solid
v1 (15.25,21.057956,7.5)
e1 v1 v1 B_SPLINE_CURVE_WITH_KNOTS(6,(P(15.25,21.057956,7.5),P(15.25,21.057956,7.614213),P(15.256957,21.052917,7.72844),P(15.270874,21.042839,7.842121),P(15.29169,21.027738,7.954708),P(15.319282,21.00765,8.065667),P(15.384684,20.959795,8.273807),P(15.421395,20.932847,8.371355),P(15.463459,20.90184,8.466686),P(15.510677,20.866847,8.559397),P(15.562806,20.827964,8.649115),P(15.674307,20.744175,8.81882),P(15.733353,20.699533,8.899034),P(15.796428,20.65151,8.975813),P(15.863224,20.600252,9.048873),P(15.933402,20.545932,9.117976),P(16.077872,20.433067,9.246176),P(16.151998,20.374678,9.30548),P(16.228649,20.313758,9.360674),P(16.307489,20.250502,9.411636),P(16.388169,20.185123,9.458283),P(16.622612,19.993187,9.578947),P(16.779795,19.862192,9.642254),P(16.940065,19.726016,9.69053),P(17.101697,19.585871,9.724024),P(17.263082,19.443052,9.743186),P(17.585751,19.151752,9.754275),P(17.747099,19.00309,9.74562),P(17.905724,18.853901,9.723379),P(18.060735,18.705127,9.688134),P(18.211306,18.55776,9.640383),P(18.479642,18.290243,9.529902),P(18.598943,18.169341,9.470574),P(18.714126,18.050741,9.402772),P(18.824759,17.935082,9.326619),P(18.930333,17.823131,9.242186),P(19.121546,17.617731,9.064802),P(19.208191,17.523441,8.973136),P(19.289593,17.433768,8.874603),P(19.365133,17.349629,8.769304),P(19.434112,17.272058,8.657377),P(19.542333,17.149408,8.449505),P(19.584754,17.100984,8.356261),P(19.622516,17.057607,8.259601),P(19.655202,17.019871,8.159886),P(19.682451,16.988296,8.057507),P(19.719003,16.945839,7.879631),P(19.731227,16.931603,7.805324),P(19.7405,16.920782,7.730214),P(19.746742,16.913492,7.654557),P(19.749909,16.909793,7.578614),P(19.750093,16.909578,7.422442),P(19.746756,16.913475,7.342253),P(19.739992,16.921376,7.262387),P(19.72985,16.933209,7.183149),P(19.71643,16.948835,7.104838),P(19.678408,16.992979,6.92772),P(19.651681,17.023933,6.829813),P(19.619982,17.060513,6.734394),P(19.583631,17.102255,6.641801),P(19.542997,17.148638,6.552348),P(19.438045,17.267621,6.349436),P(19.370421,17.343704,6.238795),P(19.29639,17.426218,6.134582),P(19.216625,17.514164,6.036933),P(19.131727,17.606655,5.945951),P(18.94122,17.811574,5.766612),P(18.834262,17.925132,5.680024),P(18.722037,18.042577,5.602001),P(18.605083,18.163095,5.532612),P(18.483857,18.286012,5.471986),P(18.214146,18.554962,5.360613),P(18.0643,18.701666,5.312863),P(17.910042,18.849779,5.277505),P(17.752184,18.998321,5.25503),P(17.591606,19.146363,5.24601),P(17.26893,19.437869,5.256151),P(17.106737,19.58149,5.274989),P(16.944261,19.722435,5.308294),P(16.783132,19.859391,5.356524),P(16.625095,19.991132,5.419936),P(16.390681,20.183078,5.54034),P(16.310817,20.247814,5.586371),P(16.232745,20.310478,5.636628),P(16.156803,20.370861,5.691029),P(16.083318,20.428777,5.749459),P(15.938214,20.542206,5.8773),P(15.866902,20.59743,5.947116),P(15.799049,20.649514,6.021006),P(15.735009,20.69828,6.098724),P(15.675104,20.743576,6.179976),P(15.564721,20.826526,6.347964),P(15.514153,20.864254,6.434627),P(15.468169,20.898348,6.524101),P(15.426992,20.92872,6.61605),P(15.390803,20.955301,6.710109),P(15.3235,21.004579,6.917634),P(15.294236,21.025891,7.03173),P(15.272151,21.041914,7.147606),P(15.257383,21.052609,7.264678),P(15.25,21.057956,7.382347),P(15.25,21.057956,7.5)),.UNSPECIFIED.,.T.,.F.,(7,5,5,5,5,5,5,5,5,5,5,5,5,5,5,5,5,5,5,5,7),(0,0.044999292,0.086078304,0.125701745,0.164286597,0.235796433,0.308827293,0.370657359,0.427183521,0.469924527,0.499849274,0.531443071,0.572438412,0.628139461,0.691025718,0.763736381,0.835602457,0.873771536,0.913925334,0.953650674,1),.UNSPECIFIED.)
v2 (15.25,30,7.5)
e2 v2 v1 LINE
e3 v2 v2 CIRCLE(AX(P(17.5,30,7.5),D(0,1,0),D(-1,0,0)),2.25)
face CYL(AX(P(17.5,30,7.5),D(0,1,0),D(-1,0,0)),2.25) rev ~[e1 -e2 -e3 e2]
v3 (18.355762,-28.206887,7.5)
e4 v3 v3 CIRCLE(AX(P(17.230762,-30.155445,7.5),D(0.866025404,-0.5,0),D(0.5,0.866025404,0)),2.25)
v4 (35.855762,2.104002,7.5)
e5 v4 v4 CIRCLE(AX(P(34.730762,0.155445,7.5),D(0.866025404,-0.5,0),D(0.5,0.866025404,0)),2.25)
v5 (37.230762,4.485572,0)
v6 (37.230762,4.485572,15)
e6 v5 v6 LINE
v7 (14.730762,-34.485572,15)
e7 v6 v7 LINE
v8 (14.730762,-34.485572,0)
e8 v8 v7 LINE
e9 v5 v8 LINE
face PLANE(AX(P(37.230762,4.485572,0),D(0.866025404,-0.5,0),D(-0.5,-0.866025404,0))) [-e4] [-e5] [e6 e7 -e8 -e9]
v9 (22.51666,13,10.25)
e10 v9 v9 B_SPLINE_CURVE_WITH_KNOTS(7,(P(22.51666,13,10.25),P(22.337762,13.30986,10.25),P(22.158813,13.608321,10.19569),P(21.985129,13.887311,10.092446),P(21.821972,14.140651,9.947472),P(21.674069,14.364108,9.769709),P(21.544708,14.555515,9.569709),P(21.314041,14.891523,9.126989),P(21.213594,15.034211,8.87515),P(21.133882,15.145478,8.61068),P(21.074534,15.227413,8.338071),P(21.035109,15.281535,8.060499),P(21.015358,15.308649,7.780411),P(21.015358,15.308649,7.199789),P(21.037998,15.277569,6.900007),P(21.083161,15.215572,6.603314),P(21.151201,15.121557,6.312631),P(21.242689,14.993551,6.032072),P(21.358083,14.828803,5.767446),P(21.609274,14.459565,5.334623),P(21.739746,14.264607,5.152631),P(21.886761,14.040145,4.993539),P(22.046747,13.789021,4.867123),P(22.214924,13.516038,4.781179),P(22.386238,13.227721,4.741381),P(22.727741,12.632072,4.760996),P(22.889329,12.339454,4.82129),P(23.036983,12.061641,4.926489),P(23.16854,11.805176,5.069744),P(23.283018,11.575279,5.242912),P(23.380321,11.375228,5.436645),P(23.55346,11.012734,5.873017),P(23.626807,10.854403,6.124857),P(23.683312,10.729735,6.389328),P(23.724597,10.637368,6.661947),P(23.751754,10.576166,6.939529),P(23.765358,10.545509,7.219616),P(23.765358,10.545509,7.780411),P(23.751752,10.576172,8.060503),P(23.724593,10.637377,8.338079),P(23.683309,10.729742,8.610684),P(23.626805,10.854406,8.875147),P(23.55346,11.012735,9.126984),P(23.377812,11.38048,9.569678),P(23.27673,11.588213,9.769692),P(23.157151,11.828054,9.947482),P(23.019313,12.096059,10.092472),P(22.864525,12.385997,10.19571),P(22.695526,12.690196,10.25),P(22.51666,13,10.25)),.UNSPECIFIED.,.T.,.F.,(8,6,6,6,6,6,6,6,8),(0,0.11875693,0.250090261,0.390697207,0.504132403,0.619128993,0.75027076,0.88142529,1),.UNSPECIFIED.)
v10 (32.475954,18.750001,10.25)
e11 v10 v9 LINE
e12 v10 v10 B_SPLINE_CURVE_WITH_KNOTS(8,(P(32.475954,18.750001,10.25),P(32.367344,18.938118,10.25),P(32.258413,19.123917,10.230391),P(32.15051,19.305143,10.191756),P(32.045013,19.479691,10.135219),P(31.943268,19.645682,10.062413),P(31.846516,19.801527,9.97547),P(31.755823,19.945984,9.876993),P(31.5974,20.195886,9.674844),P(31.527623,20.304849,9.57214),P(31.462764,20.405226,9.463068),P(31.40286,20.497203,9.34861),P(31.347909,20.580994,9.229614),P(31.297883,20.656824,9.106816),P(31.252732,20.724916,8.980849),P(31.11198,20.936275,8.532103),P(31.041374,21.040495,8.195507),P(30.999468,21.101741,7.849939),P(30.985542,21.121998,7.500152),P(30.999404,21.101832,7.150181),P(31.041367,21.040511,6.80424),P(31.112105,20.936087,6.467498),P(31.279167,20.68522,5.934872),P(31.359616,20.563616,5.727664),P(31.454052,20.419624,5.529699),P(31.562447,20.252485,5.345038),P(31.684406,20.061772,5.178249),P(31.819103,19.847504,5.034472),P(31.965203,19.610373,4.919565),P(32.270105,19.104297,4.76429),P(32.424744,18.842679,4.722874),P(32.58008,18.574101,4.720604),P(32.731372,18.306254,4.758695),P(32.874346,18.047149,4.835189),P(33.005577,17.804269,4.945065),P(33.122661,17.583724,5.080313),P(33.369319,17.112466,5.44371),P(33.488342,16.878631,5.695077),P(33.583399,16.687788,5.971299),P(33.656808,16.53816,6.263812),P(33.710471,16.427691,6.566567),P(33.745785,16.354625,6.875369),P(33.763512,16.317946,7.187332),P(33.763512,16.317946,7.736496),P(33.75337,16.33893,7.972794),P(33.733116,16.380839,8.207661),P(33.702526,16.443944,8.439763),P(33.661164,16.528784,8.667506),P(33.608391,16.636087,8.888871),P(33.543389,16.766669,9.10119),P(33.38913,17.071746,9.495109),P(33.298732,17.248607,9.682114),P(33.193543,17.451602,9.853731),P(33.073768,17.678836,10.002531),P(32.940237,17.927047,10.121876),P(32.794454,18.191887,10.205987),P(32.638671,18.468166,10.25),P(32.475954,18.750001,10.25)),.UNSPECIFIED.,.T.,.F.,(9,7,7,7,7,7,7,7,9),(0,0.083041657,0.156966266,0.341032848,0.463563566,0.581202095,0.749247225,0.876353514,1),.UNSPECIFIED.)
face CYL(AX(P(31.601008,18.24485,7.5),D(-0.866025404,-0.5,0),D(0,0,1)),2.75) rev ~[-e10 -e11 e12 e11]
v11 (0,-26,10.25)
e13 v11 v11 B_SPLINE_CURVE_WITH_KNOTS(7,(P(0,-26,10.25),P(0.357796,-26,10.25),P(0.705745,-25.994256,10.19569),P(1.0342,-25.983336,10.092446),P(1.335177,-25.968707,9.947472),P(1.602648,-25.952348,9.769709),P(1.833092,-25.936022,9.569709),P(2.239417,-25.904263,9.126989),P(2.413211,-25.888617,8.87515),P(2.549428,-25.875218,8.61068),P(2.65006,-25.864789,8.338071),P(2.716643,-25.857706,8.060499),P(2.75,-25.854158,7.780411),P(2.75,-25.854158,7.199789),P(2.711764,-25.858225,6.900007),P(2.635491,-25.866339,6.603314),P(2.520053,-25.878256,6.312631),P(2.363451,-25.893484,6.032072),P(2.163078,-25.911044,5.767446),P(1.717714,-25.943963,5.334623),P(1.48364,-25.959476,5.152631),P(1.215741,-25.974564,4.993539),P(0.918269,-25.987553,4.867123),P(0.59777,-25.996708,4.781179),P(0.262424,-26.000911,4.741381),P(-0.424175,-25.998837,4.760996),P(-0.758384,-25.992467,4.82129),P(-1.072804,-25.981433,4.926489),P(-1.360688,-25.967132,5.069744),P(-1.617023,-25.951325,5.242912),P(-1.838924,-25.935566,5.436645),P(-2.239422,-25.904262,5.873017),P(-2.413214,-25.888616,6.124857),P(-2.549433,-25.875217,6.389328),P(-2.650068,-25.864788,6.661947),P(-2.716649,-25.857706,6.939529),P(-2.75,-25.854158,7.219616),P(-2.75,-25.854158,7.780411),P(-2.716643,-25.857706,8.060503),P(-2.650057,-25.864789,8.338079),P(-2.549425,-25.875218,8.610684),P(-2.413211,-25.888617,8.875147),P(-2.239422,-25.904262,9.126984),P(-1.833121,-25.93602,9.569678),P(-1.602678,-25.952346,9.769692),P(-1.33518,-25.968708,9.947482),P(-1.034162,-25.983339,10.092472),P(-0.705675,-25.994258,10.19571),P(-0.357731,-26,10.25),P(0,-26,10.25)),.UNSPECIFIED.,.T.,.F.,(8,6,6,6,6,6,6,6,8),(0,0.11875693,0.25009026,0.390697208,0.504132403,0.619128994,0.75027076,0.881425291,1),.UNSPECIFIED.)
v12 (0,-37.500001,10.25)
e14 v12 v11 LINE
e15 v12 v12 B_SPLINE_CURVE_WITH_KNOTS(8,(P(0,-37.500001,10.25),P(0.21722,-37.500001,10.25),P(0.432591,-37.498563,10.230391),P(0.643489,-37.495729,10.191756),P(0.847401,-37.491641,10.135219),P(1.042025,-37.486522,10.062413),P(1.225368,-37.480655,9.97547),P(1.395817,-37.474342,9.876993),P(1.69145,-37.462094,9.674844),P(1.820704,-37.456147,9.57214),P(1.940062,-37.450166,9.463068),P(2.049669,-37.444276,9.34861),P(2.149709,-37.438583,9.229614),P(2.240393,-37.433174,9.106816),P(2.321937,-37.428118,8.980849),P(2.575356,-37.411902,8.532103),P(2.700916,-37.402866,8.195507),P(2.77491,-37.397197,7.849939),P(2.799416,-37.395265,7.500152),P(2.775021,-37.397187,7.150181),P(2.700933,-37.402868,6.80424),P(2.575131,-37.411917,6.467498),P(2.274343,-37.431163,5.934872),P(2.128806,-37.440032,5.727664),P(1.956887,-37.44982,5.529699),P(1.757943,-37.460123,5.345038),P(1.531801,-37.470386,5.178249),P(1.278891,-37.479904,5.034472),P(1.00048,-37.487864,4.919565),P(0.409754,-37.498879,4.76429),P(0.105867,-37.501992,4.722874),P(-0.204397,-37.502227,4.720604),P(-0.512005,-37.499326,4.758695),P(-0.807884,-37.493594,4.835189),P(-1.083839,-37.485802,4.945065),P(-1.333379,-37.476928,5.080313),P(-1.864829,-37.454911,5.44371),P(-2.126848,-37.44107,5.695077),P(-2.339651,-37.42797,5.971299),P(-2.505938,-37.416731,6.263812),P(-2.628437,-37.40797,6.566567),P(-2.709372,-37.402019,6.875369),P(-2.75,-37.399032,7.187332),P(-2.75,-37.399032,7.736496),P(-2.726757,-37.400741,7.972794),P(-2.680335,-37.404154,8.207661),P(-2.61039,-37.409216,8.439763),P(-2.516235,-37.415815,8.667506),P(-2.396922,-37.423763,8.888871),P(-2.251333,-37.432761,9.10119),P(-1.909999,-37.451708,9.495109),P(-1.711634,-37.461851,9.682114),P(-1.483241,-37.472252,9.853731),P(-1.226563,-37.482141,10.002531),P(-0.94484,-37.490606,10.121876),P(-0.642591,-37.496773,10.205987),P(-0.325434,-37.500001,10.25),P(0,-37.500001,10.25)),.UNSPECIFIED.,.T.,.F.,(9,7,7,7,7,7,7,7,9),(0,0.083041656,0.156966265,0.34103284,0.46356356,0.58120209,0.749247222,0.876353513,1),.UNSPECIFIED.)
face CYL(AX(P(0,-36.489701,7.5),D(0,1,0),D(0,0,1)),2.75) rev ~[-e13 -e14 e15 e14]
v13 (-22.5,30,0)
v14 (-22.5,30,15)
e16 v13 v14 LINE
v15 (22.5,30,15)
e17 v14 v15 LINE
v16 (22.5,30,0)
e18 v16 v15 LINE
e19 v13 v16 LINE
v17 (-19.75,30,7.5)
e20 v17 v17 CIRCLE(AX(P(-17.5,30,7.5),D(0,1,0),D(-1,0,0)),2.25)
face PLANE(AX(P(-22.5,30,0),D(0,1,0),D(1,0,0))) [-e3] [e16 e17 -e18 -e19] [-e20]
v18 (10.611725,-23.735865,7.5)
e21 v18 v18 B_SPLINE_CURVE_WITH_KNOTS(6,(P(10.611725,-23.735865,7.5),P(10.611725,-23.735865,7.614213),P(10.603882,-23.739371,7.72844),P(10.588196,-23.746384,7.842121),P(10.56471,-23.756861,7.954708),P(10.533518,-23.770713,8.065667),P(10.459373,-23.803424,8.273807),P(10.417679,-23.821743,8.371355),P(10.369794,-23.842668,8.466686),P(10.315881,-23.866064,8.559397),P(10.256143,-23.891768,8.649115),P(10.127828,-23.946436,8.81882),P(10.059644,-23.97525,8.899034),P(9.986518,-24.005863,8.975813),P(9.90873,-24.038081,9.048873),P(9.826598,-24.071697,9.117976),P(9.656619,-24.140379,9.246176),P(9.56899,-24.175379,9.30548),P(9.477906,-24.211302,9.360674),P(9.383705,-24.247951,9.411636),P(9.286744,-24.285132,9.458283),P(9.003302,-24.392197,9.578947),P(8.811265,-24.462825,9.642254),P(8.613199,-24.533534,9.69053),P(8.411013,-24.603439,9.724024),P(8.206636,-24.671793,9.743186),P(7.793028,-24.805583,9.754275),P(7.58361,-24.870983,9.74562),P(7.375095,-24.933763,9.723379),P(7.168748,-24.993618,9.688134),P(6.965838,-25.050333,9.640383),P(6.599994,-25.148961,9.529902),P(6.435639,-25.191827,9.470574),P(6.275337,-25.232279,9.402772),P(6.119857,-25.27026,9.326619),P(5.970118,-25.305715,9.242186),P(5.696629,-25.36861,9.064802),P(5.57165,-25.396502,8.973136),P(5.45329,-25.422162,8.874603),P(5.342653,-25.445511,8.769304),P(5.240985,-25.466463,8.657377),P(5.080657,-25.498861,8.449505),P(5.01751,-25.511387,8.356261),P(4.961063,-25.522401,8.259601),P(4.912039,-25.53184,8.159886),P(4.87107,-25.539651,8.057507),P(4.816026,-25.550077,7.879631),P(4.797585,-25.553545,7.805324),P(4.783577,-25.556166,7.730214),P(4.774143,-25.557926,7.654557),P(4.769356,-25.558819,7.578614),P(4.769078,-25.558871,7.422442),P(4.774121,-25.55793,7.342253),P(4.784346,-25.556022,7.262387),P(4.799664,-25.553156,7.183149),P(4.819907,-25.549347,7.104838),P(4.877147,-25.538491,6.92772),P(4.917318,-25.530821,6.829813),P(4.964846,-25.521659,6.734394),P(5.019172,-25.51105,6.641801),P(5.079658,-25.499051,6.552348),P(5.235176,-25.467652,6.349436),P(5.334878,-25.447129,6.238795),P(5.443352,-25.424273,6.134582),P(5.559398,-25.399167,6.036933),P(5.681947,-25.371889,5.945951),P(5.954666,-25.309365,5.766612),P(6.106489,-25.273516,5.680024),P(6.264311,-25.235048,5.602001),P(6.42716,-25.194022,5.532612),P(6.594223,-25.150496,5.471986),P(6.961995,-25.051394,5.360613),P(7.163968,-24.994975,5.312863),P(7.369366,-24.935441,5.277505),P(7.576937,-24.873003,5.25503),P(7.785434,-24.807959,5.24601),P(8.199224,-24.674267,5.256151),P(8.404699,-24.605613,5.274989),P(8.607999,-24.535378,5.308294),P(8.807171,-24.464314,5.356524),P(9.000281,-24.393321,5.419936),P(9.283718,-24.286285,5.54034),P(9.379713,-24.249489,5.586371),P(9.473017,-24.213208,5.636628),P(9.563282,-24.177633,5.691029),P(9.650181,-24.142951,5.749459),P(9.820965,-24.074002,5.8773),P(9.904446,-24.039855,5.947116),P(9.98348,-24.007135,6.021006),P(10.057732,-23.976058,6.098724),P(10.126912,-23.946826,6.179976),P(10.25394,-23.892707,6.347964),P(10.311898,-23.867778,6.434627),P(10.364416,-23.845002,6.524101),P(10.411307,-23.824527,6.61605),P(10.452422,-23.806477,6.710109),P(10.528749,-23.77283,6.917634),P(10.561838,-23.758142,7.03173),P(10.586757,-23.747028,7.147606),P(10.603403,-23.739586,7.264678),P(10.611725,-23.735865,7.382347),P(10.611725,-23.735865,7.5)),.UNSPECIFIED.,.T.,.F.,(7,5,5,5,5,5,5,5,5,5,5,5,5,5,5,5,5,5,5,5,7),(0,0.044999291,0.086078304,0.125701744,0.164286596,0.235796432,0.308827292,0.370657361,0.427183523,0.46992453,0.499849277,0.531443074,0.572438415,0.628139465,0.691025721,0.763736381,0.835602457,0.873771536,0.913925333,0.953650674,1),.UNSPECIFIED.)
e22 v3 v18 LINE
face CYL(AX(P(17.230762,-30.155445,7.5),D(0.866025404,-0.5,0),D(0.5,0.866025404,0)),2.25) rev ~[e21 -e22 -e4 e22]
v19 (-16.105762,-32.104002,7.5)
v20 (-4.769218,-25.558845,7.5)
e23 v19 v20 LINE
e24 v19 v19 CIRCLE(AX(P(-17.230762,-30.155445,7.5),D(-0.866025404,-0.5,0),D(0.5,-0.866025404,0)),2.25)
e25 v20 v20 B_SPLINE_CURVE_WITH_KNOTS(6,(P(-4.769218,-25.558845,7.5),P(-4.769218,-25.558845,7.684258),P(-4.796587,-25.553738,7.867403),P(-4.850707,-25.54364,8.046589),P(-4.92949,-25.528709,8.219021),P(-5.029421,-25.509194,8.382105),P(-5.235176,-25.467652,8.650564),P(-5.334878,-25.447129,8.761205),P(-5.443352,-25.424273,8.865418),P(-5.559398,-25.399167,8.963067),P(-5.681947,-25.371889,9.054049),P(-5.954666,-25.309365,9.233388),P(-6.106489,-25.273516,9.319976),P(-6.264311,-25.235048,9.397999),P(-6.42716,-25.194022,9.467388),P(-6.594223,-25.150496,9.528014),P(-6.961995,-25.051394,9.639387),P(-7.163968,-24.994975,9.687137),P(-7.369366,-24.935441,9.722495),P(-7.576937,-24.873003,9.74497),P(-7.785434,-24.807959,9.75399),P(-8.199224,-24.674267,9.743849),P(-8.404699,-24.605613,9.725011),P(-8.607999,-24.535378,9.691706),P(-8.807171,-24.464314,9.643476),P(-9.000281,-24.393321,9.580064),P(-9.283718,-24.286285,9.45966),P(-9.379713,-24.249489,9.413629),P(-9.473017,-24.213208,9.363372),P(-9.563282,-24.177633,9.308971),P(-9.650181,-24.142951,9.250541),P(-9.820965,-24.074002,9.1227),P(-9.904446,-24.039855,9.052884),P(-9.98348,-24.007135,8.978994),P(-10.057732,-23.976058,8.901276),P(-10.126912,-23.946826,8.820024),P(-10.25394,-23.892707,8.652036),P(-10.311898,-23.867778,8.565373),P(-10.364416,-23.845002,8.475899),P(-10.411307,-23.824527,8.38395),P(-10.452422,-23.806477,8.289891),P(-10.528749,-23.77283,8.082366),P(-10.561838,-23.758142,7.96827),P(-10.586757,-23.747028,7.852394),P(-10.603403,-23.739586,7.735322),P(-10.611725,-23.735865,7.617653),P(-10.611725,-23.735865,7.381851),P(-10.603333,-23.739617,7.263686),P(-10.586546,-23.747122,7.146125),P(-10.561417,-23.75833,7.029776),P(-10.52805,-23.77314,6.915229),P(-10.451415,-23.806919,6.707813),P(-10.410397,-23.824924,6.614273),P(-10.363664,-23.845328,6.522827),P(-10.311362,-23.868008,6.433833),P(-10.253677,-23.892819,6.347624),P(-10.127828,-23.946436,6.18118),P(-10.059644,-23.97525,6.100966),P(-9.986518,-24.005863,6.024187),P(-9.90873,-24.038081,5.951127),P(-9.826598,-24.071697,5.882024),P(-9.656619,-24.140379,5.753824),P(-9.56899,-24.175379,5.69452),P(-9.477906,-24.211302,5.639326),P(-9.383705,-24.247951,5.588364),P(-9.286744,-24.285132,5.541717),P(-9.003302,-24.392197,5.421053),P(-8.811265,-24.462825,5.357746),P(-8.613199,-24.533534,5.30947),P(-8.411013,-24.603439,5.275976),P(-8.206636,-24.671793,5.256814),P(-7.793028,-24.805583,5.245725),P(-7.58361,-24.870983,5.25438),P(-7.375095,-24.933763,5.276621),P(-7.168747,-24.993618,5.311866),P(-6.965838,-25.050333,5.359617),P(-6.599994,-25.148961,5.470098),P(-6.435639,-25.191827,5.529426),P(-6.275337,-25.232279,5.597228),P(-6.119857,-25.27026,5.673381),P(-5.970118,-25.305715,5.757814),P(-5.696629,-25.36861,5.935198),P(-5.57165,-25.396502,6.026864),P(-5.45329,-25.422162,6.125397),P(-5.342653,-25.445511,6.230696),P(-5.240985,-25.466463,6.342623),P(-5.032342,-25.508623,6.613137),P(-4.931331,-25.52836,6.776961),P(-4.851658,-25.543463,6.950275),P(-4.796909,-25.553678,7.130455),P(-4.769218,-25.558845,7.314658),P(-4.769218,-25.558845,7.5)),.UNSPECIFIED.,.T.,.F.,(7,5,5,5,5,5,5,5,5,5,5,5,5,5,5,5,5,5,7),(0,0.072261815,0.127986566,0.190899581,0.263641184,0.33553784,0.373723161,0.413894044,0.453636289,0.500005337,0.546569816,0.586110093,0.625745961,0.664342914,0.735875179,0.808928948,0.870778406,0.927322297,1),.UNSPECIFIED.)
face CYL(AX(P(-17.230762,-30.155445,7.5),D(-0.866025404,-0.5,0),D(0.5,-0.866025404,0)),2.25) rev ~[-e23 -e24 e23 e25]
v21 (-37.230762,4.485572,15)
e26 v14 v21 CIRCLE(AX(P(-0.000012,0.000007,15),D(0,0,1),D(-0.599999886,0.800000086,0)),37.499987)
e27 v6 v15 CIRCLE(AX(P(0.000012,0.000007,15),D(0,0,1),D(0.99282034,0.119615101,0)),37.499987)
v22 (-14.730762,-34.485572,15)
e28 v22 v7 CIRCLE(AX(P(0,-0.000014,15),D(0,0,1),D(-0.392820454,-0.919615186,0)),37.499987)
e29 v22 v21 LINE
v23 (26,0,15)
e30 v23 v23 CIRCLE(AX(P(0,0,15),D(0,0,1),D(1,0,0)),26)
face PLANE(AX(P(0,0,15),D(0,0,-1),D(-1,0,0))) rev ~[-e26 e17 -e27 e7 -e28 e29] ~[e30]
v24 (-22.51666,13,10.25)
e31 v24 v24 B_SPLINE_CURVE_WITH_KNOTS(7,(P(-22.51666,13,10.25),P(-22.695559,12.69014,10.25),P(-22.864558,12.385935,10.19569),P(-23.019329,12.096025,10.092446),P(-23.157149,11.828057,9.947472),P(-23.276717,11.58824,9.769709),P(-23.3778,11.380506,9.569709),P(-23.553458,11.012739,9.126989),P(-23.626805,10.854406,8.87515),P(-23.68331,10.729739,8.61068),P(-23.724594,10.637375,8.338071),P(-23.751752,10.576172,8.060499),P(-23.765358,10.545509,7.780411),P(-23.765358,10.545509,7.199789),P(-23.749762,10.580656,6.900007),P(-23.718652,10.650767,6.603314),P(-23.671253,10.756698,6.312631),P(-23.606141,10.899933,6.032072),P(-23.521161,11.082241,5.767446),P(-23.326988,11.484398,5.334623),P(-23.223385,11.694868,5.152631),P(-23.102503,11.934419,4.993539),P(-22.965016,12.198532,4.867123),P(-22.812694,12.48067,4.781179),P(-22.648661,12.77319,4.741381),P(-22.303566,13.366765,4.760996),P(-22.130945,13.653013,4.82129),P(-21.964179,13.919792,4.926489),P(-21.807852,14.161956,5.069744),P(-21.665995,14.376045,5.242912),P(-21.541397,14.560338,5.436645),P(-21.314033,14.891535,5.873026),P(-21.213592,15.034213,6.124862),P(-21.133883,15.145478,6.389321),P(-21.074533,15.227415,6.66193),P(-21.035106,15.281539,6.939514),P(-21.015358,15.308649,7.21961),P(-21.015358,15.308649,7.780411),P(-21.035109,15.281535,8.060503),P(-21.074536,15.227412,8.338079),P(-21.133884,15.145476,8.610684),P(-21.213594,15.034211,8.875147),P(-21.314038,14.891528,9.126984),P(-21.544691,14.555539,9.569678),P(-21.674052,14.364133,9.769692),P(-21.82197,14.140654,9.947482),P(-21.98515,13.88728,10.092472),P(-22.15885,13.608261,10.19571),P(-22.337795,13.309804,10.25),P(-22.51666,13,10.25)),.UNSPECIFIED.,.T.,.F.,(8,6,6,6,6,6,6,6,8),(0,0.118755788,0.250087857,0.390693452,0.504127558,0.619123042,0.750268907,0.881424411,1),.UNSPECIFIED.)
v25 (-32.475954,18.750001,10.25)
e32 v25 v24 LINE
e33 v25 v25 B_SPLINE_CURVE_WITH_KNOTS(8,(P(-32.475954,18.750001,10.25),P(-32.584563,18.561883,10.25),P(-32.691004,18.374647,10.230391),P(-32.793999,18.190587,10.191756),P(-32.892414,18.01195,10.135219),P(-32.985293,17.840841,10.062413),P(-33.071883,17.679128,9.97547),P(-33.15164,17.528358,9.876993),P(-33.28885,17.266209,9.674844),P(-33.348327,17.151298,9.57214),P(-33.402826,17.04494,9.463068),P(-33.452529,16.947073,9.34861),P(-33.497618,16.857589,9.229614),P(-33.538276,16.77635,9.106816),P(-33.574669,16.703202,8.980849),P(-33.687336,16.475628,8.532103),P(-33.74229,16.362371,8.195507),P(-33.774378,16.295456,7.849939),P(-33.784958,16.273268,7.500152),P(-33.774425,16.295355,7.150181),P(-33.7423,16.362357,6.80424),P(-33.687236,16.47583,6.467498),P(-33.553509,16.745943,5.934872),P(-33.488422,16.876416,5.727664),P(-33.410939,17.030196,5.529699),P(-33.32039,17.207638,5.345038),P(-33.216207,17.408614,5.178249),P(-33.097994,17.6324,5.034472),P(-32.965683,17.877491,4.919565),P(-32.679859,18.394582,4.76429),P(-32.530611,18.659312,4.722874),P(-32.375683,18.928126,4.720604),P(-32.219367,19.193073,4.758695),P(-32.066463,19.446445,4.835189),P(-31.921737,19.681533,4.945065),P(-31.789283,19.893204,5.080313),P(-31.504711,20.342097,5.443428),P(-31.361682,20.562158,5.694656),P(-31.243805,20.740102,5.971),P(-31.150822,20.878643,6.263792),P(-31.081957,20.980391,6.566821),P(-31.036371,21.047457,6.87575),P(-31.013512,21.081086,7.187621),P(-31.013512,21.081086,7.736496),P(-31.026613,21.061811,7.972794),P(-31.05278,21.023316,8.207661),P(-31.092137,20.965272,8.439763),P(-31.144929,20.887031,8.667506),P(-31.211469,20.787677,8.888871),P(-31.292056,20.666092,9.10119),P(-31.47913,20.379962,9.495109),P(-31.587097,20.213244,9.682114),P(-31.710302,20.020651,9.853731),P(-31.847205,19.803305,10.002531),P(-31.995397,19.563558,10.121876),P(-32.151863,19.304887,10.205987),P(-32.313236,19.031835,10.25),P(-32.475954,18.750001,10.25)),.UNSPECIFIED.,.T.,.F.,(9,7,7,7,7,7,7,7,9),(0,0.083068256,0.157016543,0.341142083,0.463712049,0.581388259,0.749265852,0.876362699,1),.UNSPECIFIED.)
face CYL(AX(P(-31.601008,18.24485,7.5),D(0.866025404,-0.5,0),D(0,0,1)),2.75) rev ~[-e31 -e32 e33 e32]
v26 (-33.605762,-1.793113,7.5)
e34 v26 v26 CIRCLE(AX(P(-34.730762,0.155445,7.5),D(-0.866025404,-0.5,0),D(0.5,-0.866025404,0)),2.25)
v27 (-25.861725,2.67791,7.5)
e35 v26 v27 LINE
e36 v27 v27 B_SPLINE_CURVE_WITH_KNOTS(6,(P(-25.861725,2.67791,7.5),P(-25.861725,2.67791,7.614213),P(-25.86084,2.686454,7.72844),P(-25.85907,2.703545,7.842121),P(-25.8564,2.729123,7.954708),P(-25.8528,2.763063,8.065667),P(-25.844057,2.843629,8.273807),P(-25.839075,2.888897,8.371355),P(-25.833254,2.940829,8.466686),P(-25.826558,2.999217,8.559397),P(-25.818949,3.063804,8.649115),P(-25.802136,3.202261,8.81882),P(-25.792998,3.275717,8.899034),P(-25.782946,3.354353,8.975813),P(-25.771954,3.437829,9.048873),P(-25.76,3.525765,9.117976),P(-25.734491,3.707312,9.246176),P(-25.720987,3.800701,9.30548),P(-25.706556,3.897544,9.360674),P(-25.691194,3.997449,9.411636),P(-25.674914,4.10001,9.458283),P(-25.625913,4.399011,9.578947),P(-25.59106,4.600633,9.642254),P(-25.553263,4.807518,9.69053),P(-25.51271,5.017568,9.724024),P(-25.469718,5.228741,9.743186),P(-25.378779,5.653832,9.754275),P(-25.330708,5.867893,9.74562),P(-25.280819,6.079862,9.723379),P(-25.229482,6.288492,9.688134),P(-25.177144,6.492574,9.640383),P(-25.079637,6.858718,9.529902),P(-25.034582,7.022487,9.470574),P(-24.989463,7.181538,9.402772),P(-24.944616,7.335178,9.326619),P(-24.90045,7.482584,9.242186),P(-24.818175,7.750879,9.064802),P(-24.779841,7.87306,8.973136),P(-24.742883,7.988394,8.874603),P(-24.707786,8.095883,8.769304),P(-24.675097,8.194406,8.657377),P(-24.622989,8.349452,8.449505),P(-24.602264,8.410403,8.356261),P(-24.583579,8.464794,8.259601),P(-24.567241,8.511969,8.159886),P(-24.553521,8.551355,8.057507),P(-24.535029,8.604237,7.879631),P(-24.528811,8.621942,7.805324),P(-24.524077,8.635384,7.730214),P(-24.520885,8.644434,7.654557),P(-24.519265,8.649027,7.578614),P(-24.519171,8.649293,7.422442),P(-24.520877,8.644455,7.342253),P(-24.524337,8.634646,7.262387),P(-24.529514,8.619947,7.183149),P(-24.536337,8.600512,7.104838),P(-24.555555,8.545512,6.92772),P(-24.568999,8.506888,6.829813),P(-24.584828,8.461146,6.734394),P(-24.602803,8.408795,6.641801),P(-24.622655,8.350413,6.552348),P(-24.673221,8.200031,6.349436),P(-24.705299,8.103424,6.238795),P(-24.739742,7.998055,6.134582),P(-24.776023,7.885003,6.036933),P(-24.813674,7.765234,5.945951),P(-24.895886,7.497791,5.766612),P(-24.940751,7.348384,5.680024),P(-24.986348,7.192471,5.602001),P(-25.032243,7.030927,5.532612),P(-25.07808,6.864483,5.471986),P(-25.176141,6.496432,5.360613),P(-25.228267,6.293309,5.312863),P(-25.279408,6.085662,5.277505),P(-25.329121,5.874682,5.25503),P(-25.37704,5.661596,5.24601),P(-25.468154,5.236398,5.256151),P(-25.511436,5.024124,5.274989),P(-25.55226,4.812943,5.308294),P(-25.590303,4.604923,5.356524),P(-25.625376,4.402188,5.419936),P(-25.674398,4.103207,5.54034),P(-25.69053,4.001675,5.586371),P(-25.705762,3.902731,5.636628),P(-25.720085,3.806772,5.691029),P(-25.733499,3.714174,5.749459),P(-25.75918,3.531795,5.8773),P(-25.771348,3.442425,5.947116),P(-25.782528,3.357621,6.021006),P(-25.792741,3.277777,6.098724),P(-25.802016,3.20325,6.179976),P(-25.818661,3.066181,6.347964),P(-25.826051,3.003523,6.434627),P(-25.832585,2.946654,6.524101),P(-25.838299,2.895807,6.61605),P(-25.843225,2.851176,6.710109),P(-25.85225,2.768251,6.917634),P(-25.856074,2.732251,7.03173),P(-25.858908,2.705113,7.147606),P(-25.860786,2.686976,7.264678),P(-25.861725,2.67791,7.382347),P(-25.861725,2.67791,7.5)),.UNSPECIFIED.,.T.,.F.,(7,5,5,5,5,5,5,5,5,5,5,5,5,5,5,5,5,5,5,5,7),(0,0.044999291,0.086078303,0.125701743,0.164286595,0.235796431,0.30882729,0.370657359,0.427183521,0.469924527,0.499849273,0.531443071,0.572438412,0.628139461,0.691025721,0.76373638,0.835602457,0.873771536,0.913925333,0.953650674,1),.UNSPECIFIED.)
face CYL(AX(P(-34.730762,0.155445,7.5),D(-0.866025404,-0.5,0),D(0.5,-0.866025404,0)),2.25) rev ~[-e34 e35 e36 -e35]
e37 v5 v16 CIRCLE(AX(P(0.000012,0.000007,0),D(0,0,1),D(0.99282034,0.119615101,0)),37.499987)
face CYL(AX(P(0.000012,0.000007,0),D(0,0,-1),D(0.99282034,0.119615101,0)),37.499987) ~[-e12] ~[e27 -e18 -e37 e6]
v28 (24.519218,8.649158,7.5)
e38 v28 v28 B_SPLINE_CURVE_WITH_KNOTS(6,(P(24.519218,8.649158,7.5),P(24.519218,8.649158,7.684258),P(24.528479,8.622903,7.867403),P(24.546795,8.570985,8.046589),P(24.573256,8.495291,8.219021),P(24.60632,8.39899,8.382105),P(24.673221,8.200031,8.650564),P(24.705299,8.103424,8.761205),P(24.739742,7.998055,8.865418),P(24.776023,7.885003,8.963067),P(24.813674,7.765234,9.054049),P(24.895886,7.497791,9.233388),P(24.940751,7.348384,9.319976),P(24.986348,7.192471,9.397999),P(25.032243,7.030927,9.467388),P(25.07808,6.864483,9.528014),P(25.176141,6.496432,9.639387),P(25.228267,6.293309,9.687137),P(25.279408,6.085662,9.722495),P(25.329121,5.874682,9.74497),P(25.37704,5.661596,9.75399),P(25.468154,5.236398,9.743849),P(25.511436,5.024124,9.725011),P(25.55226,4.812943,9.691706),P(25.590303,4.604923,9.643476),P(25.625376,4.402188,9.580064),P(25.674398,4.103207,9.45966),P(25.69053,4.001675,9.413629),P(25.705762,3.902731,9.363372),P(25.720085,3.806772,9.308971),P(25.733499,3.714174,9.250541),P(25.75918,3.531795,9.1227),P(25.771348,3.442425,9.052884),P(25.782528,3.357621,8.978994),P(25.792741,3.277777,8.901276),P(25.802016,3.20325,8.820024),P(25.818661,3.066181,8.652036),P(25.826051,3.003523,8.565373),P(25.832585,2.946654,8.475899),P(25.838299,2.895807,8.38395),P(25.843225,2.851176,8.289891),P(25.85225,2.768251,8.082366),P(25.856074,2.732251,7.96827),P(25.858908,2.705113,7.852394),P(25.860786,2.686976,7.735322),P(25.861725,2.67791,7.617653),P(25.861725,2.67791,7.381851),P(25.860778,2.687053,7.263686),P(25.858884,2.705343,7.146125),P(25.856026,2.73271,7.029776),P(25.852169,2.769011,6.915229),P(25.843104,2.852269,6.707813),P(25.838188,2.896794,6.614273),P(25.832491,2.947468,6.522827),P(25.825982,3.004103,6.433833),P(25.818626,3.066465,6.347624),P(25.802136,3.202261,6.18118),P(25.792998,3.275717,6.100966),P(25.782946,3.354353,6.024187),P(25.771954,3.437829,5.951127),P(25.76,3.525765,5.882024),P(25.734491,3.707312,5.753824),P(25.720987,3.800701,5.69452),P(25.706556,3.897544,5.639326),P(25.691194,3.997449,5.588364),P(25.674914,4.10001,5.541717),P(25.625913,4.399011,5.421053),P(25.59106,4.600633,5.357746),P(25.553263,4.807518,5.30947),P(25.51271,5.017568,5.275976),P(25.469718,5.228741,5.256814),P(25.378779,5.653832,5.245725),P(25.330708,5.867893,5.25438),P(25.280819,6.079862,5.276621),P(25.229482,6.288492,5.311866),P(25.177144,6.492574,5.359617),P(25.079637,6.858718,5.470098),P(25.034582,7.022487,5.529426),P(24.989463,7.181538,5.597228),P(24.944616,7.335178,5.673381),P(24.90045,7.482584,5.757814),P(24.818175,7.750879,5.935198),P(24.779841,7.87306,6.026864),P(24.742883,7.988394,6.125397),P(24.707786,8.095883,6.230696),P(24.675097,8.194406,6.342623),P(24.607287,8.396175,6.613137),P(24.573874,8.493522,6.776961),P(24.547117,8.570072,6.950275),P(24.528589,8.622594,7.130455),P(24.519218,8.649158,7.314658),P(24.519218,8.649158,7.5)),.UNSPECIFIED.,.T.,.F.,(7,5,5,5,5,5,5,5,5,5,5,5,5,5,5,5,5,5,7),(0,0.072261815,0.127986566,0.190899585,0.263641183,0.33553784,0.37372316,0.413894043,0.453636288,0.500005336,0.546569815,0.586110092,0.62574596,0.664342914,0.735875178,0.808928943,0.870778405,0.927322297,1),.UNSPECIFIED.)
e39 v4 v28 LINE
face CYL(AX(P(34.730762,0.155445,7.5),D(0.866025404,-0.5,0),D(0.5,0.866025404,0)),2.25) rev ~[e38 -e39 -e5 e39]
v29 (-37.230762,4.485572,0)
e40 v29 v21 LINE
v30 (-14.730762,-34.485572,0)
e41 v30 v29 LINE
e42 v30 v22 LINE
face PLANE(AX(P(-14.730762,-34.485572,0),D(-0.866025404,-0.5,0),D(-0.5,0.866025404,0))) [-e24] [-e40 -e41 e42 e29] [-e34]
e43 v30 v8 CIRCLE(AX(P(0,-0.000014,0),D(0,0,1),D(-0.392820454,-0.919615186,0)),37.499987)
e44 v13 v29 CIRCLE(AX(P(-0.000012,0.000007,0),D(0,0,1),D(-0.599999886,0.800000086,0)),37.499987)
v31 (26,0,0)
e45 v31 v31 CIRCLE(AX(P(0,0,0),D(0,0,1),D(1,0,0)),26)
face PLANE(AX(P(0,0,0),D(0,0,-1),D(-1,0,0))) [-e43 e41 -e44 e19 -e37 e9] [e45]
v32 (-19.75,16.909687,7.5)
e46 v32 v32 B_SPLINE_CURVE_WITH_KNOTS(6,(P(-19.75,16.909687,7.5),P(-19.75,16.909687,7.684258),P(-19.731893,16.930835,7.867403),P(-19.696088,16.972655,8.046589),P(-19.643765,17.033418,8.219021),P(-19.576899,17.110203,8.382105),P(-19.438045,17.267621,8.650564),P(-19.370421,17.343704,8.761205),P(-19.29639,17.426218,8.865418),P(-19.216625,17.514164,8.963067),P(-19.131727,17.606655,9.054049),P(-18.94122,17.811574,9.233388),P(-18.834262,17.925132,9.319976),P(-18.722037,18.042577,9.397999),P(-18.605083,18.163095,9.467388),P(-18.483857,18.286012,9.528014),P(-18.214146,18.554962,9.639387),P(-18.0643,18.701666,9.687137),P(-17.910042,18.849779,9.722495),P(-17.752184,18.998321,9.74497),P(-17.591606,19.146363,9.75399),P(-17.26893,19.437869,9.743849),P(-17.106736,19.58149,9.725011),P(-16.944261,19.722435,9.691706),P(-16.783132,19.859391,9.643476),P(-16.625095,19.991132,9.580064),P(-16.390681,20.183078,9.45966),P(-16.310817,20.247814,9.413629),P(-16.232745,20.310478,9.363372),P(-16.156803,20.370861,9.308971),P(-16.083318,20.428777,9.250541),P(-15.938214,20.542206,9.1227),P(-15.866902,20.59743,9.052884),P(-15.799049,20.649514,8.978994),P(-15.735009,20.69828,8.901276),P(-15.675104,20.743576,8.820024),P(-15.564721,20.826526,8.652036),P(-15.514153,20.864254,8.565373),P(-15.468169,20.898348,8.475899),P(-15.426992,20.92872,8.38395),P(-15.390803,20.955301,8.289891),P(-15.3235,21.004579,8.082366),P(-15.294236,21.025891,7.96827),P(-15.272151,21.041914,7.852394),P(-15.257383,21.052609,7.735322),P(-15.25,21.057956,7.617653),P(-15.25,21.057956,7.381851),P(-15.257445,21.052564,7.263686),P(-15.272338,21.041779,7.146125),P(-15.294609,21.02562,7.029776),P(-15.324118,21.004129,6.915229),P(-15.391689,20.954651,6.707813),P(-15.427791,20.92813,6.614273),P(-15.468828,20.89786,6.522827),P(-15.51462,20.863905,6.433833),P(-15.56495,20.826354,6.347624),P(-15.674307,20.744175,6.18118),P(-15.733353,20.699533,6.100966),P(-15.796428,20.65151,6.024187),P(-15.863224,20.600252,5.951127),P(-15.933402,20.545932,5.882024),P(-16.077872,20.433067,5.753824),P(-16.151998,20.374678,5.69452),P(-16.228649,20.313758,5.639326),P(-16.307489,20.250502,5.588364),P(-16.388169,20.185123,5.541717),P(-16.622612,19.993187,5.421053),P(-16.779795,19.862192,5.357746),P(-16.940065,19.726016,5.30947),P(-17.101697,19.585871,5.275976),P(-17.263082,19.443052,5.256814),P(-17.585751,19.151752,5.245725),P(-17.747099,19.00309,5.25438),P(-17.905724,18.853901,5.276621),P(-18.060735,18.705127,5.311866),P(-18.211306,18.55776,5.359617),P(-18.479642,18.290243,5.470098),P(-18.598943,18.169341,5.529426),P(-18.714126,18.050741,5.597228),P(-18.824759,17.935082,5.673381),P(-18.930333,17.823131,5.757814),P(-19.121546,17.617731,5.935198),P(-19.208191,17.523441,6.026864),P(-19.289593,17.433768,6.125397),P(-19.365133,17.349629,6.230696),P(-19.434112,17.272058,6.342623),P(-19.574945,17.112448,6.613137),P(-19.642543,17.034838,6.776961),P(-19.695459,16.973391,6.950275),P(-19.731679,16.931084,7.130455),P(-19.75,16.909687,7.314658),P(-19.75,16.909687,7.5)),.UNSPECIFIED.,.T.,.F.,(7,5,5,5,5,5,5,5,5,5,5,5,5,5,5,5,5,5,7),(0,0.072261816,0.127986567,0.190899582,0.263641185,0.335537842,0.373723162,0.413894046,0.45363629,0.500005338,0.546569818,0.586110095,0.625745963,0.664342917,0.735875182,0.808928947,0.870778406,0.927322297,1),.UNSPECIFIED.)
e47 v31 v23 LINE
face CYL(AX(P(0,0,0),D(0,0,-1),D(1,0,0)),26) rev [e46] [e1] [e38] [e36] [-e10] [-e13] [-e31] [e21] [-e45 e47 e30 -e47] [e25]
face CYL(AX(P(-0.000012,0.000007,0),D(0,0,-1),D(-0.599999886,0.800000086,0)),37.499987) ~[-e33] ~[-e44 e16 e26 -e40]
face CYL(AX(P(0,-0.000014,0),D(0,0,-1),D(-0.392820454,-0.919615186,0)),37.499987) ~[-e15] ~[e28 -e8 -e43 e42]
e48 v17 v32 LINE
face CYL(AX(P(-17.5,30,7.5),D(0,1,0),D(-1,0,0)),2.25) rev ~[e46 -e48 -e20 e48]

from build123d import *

# Parameters (mm, degrees)
SKETCH_R              = 26
PAD_DEPTH             = 15
SKETCH001_R           = 2.25
POCKET_DEPTH          = 16
POLARPATTERN_COUNT    = 3
SKETCH002_R           = 2.75
POCKET001_DEPTH       = 15
POLARPATTERN001_COUNT = 3


with BuildPart() as part:
    # Sketch → Pad (new body)
    with BuildSketch(Plane.XY):
        with BuildLine():
            Line((-22.5, 30), (22.5, 30))
            ThreePointArc((37.2307621135, 4.4855715852), (32.4759535891, 18.7500005468), (22.5, 30))
            Line((37.2307621135, 4.4855715852), (14.7307621135, -34.4855715852))
            ThreePointArc((-14.7307621135, -34.4855715852), (0, -37.5000010954), (14.7307621135, -34.4855715852))
            Line((-14.7307621135, -34.4855715852), (-37.2307621135, 4.4855715851))
            ThreePointArc((-22.5, 30), (-32.475953589, 18.7500005468), (-37.2307621135, 4.4855715852))
        make_face()
        Circle(SKETCH_R, mode=Mode.SUBTRACT)
    extrude(amount=PAD_DEPTH)

    # Sketch001 (on DatumPlane) → Pocket (cut)
    with BuildSketch(Plane(origin=(25.9807621135, -15, 0), x_dir=(0.5, 0.8660254038, 0), z_dir=(0.8660254038, -0.5, 0))):
        with Locations((-17.5, 7.5)):
            Circle(SKETCH001_R)
        with Locations((17.5, 7.5)):
            Circle(SKETCH001_R)
    pocket = extrude(amount=-POCKET_DEPTH, mode=Mode.SUBTRACT)

    # PolarPattern: Pocket ×3 about axis
    polarpattern_axis = Axis((0, 0, 0), (0, 0, 1))
    for i in range(1, POLARPATTERN_COUNT):
        add(pocket.rotate(polarpattern_axis, i * 360 / POLARPATTERN_COUNT), mode=Mode.SUBTRACT)

    # Sketch002 (on DatumPlane) → Pocket001 (cut, symmetric)
    with BuildSketch(Plane(origin=(-31.6010078868, 18.2448504101, 7.5), x_dir=(0, 0, 1), z_dir=(0.8660254038, -0.5, 0))):
        Circle(SKETCH002_R)
    pocket001 = extrude(amount=POCKET001_DEPTH, both=True, mode=Mode.SUBTRACT)

    # PolarPattern001: Pocket001 ×3 about axis
    polarpattern001_axis = Axis((0, 0, 0), (0, 0, 1))
    for i in range(1, POLARPATTERN001_COUNT):
        add(pocket001.rotate(polarpattern001_axis, i * 360 / POLARPATTERN001_COUNT), mode=Mode.SUBTRACT)


solid = part.part
